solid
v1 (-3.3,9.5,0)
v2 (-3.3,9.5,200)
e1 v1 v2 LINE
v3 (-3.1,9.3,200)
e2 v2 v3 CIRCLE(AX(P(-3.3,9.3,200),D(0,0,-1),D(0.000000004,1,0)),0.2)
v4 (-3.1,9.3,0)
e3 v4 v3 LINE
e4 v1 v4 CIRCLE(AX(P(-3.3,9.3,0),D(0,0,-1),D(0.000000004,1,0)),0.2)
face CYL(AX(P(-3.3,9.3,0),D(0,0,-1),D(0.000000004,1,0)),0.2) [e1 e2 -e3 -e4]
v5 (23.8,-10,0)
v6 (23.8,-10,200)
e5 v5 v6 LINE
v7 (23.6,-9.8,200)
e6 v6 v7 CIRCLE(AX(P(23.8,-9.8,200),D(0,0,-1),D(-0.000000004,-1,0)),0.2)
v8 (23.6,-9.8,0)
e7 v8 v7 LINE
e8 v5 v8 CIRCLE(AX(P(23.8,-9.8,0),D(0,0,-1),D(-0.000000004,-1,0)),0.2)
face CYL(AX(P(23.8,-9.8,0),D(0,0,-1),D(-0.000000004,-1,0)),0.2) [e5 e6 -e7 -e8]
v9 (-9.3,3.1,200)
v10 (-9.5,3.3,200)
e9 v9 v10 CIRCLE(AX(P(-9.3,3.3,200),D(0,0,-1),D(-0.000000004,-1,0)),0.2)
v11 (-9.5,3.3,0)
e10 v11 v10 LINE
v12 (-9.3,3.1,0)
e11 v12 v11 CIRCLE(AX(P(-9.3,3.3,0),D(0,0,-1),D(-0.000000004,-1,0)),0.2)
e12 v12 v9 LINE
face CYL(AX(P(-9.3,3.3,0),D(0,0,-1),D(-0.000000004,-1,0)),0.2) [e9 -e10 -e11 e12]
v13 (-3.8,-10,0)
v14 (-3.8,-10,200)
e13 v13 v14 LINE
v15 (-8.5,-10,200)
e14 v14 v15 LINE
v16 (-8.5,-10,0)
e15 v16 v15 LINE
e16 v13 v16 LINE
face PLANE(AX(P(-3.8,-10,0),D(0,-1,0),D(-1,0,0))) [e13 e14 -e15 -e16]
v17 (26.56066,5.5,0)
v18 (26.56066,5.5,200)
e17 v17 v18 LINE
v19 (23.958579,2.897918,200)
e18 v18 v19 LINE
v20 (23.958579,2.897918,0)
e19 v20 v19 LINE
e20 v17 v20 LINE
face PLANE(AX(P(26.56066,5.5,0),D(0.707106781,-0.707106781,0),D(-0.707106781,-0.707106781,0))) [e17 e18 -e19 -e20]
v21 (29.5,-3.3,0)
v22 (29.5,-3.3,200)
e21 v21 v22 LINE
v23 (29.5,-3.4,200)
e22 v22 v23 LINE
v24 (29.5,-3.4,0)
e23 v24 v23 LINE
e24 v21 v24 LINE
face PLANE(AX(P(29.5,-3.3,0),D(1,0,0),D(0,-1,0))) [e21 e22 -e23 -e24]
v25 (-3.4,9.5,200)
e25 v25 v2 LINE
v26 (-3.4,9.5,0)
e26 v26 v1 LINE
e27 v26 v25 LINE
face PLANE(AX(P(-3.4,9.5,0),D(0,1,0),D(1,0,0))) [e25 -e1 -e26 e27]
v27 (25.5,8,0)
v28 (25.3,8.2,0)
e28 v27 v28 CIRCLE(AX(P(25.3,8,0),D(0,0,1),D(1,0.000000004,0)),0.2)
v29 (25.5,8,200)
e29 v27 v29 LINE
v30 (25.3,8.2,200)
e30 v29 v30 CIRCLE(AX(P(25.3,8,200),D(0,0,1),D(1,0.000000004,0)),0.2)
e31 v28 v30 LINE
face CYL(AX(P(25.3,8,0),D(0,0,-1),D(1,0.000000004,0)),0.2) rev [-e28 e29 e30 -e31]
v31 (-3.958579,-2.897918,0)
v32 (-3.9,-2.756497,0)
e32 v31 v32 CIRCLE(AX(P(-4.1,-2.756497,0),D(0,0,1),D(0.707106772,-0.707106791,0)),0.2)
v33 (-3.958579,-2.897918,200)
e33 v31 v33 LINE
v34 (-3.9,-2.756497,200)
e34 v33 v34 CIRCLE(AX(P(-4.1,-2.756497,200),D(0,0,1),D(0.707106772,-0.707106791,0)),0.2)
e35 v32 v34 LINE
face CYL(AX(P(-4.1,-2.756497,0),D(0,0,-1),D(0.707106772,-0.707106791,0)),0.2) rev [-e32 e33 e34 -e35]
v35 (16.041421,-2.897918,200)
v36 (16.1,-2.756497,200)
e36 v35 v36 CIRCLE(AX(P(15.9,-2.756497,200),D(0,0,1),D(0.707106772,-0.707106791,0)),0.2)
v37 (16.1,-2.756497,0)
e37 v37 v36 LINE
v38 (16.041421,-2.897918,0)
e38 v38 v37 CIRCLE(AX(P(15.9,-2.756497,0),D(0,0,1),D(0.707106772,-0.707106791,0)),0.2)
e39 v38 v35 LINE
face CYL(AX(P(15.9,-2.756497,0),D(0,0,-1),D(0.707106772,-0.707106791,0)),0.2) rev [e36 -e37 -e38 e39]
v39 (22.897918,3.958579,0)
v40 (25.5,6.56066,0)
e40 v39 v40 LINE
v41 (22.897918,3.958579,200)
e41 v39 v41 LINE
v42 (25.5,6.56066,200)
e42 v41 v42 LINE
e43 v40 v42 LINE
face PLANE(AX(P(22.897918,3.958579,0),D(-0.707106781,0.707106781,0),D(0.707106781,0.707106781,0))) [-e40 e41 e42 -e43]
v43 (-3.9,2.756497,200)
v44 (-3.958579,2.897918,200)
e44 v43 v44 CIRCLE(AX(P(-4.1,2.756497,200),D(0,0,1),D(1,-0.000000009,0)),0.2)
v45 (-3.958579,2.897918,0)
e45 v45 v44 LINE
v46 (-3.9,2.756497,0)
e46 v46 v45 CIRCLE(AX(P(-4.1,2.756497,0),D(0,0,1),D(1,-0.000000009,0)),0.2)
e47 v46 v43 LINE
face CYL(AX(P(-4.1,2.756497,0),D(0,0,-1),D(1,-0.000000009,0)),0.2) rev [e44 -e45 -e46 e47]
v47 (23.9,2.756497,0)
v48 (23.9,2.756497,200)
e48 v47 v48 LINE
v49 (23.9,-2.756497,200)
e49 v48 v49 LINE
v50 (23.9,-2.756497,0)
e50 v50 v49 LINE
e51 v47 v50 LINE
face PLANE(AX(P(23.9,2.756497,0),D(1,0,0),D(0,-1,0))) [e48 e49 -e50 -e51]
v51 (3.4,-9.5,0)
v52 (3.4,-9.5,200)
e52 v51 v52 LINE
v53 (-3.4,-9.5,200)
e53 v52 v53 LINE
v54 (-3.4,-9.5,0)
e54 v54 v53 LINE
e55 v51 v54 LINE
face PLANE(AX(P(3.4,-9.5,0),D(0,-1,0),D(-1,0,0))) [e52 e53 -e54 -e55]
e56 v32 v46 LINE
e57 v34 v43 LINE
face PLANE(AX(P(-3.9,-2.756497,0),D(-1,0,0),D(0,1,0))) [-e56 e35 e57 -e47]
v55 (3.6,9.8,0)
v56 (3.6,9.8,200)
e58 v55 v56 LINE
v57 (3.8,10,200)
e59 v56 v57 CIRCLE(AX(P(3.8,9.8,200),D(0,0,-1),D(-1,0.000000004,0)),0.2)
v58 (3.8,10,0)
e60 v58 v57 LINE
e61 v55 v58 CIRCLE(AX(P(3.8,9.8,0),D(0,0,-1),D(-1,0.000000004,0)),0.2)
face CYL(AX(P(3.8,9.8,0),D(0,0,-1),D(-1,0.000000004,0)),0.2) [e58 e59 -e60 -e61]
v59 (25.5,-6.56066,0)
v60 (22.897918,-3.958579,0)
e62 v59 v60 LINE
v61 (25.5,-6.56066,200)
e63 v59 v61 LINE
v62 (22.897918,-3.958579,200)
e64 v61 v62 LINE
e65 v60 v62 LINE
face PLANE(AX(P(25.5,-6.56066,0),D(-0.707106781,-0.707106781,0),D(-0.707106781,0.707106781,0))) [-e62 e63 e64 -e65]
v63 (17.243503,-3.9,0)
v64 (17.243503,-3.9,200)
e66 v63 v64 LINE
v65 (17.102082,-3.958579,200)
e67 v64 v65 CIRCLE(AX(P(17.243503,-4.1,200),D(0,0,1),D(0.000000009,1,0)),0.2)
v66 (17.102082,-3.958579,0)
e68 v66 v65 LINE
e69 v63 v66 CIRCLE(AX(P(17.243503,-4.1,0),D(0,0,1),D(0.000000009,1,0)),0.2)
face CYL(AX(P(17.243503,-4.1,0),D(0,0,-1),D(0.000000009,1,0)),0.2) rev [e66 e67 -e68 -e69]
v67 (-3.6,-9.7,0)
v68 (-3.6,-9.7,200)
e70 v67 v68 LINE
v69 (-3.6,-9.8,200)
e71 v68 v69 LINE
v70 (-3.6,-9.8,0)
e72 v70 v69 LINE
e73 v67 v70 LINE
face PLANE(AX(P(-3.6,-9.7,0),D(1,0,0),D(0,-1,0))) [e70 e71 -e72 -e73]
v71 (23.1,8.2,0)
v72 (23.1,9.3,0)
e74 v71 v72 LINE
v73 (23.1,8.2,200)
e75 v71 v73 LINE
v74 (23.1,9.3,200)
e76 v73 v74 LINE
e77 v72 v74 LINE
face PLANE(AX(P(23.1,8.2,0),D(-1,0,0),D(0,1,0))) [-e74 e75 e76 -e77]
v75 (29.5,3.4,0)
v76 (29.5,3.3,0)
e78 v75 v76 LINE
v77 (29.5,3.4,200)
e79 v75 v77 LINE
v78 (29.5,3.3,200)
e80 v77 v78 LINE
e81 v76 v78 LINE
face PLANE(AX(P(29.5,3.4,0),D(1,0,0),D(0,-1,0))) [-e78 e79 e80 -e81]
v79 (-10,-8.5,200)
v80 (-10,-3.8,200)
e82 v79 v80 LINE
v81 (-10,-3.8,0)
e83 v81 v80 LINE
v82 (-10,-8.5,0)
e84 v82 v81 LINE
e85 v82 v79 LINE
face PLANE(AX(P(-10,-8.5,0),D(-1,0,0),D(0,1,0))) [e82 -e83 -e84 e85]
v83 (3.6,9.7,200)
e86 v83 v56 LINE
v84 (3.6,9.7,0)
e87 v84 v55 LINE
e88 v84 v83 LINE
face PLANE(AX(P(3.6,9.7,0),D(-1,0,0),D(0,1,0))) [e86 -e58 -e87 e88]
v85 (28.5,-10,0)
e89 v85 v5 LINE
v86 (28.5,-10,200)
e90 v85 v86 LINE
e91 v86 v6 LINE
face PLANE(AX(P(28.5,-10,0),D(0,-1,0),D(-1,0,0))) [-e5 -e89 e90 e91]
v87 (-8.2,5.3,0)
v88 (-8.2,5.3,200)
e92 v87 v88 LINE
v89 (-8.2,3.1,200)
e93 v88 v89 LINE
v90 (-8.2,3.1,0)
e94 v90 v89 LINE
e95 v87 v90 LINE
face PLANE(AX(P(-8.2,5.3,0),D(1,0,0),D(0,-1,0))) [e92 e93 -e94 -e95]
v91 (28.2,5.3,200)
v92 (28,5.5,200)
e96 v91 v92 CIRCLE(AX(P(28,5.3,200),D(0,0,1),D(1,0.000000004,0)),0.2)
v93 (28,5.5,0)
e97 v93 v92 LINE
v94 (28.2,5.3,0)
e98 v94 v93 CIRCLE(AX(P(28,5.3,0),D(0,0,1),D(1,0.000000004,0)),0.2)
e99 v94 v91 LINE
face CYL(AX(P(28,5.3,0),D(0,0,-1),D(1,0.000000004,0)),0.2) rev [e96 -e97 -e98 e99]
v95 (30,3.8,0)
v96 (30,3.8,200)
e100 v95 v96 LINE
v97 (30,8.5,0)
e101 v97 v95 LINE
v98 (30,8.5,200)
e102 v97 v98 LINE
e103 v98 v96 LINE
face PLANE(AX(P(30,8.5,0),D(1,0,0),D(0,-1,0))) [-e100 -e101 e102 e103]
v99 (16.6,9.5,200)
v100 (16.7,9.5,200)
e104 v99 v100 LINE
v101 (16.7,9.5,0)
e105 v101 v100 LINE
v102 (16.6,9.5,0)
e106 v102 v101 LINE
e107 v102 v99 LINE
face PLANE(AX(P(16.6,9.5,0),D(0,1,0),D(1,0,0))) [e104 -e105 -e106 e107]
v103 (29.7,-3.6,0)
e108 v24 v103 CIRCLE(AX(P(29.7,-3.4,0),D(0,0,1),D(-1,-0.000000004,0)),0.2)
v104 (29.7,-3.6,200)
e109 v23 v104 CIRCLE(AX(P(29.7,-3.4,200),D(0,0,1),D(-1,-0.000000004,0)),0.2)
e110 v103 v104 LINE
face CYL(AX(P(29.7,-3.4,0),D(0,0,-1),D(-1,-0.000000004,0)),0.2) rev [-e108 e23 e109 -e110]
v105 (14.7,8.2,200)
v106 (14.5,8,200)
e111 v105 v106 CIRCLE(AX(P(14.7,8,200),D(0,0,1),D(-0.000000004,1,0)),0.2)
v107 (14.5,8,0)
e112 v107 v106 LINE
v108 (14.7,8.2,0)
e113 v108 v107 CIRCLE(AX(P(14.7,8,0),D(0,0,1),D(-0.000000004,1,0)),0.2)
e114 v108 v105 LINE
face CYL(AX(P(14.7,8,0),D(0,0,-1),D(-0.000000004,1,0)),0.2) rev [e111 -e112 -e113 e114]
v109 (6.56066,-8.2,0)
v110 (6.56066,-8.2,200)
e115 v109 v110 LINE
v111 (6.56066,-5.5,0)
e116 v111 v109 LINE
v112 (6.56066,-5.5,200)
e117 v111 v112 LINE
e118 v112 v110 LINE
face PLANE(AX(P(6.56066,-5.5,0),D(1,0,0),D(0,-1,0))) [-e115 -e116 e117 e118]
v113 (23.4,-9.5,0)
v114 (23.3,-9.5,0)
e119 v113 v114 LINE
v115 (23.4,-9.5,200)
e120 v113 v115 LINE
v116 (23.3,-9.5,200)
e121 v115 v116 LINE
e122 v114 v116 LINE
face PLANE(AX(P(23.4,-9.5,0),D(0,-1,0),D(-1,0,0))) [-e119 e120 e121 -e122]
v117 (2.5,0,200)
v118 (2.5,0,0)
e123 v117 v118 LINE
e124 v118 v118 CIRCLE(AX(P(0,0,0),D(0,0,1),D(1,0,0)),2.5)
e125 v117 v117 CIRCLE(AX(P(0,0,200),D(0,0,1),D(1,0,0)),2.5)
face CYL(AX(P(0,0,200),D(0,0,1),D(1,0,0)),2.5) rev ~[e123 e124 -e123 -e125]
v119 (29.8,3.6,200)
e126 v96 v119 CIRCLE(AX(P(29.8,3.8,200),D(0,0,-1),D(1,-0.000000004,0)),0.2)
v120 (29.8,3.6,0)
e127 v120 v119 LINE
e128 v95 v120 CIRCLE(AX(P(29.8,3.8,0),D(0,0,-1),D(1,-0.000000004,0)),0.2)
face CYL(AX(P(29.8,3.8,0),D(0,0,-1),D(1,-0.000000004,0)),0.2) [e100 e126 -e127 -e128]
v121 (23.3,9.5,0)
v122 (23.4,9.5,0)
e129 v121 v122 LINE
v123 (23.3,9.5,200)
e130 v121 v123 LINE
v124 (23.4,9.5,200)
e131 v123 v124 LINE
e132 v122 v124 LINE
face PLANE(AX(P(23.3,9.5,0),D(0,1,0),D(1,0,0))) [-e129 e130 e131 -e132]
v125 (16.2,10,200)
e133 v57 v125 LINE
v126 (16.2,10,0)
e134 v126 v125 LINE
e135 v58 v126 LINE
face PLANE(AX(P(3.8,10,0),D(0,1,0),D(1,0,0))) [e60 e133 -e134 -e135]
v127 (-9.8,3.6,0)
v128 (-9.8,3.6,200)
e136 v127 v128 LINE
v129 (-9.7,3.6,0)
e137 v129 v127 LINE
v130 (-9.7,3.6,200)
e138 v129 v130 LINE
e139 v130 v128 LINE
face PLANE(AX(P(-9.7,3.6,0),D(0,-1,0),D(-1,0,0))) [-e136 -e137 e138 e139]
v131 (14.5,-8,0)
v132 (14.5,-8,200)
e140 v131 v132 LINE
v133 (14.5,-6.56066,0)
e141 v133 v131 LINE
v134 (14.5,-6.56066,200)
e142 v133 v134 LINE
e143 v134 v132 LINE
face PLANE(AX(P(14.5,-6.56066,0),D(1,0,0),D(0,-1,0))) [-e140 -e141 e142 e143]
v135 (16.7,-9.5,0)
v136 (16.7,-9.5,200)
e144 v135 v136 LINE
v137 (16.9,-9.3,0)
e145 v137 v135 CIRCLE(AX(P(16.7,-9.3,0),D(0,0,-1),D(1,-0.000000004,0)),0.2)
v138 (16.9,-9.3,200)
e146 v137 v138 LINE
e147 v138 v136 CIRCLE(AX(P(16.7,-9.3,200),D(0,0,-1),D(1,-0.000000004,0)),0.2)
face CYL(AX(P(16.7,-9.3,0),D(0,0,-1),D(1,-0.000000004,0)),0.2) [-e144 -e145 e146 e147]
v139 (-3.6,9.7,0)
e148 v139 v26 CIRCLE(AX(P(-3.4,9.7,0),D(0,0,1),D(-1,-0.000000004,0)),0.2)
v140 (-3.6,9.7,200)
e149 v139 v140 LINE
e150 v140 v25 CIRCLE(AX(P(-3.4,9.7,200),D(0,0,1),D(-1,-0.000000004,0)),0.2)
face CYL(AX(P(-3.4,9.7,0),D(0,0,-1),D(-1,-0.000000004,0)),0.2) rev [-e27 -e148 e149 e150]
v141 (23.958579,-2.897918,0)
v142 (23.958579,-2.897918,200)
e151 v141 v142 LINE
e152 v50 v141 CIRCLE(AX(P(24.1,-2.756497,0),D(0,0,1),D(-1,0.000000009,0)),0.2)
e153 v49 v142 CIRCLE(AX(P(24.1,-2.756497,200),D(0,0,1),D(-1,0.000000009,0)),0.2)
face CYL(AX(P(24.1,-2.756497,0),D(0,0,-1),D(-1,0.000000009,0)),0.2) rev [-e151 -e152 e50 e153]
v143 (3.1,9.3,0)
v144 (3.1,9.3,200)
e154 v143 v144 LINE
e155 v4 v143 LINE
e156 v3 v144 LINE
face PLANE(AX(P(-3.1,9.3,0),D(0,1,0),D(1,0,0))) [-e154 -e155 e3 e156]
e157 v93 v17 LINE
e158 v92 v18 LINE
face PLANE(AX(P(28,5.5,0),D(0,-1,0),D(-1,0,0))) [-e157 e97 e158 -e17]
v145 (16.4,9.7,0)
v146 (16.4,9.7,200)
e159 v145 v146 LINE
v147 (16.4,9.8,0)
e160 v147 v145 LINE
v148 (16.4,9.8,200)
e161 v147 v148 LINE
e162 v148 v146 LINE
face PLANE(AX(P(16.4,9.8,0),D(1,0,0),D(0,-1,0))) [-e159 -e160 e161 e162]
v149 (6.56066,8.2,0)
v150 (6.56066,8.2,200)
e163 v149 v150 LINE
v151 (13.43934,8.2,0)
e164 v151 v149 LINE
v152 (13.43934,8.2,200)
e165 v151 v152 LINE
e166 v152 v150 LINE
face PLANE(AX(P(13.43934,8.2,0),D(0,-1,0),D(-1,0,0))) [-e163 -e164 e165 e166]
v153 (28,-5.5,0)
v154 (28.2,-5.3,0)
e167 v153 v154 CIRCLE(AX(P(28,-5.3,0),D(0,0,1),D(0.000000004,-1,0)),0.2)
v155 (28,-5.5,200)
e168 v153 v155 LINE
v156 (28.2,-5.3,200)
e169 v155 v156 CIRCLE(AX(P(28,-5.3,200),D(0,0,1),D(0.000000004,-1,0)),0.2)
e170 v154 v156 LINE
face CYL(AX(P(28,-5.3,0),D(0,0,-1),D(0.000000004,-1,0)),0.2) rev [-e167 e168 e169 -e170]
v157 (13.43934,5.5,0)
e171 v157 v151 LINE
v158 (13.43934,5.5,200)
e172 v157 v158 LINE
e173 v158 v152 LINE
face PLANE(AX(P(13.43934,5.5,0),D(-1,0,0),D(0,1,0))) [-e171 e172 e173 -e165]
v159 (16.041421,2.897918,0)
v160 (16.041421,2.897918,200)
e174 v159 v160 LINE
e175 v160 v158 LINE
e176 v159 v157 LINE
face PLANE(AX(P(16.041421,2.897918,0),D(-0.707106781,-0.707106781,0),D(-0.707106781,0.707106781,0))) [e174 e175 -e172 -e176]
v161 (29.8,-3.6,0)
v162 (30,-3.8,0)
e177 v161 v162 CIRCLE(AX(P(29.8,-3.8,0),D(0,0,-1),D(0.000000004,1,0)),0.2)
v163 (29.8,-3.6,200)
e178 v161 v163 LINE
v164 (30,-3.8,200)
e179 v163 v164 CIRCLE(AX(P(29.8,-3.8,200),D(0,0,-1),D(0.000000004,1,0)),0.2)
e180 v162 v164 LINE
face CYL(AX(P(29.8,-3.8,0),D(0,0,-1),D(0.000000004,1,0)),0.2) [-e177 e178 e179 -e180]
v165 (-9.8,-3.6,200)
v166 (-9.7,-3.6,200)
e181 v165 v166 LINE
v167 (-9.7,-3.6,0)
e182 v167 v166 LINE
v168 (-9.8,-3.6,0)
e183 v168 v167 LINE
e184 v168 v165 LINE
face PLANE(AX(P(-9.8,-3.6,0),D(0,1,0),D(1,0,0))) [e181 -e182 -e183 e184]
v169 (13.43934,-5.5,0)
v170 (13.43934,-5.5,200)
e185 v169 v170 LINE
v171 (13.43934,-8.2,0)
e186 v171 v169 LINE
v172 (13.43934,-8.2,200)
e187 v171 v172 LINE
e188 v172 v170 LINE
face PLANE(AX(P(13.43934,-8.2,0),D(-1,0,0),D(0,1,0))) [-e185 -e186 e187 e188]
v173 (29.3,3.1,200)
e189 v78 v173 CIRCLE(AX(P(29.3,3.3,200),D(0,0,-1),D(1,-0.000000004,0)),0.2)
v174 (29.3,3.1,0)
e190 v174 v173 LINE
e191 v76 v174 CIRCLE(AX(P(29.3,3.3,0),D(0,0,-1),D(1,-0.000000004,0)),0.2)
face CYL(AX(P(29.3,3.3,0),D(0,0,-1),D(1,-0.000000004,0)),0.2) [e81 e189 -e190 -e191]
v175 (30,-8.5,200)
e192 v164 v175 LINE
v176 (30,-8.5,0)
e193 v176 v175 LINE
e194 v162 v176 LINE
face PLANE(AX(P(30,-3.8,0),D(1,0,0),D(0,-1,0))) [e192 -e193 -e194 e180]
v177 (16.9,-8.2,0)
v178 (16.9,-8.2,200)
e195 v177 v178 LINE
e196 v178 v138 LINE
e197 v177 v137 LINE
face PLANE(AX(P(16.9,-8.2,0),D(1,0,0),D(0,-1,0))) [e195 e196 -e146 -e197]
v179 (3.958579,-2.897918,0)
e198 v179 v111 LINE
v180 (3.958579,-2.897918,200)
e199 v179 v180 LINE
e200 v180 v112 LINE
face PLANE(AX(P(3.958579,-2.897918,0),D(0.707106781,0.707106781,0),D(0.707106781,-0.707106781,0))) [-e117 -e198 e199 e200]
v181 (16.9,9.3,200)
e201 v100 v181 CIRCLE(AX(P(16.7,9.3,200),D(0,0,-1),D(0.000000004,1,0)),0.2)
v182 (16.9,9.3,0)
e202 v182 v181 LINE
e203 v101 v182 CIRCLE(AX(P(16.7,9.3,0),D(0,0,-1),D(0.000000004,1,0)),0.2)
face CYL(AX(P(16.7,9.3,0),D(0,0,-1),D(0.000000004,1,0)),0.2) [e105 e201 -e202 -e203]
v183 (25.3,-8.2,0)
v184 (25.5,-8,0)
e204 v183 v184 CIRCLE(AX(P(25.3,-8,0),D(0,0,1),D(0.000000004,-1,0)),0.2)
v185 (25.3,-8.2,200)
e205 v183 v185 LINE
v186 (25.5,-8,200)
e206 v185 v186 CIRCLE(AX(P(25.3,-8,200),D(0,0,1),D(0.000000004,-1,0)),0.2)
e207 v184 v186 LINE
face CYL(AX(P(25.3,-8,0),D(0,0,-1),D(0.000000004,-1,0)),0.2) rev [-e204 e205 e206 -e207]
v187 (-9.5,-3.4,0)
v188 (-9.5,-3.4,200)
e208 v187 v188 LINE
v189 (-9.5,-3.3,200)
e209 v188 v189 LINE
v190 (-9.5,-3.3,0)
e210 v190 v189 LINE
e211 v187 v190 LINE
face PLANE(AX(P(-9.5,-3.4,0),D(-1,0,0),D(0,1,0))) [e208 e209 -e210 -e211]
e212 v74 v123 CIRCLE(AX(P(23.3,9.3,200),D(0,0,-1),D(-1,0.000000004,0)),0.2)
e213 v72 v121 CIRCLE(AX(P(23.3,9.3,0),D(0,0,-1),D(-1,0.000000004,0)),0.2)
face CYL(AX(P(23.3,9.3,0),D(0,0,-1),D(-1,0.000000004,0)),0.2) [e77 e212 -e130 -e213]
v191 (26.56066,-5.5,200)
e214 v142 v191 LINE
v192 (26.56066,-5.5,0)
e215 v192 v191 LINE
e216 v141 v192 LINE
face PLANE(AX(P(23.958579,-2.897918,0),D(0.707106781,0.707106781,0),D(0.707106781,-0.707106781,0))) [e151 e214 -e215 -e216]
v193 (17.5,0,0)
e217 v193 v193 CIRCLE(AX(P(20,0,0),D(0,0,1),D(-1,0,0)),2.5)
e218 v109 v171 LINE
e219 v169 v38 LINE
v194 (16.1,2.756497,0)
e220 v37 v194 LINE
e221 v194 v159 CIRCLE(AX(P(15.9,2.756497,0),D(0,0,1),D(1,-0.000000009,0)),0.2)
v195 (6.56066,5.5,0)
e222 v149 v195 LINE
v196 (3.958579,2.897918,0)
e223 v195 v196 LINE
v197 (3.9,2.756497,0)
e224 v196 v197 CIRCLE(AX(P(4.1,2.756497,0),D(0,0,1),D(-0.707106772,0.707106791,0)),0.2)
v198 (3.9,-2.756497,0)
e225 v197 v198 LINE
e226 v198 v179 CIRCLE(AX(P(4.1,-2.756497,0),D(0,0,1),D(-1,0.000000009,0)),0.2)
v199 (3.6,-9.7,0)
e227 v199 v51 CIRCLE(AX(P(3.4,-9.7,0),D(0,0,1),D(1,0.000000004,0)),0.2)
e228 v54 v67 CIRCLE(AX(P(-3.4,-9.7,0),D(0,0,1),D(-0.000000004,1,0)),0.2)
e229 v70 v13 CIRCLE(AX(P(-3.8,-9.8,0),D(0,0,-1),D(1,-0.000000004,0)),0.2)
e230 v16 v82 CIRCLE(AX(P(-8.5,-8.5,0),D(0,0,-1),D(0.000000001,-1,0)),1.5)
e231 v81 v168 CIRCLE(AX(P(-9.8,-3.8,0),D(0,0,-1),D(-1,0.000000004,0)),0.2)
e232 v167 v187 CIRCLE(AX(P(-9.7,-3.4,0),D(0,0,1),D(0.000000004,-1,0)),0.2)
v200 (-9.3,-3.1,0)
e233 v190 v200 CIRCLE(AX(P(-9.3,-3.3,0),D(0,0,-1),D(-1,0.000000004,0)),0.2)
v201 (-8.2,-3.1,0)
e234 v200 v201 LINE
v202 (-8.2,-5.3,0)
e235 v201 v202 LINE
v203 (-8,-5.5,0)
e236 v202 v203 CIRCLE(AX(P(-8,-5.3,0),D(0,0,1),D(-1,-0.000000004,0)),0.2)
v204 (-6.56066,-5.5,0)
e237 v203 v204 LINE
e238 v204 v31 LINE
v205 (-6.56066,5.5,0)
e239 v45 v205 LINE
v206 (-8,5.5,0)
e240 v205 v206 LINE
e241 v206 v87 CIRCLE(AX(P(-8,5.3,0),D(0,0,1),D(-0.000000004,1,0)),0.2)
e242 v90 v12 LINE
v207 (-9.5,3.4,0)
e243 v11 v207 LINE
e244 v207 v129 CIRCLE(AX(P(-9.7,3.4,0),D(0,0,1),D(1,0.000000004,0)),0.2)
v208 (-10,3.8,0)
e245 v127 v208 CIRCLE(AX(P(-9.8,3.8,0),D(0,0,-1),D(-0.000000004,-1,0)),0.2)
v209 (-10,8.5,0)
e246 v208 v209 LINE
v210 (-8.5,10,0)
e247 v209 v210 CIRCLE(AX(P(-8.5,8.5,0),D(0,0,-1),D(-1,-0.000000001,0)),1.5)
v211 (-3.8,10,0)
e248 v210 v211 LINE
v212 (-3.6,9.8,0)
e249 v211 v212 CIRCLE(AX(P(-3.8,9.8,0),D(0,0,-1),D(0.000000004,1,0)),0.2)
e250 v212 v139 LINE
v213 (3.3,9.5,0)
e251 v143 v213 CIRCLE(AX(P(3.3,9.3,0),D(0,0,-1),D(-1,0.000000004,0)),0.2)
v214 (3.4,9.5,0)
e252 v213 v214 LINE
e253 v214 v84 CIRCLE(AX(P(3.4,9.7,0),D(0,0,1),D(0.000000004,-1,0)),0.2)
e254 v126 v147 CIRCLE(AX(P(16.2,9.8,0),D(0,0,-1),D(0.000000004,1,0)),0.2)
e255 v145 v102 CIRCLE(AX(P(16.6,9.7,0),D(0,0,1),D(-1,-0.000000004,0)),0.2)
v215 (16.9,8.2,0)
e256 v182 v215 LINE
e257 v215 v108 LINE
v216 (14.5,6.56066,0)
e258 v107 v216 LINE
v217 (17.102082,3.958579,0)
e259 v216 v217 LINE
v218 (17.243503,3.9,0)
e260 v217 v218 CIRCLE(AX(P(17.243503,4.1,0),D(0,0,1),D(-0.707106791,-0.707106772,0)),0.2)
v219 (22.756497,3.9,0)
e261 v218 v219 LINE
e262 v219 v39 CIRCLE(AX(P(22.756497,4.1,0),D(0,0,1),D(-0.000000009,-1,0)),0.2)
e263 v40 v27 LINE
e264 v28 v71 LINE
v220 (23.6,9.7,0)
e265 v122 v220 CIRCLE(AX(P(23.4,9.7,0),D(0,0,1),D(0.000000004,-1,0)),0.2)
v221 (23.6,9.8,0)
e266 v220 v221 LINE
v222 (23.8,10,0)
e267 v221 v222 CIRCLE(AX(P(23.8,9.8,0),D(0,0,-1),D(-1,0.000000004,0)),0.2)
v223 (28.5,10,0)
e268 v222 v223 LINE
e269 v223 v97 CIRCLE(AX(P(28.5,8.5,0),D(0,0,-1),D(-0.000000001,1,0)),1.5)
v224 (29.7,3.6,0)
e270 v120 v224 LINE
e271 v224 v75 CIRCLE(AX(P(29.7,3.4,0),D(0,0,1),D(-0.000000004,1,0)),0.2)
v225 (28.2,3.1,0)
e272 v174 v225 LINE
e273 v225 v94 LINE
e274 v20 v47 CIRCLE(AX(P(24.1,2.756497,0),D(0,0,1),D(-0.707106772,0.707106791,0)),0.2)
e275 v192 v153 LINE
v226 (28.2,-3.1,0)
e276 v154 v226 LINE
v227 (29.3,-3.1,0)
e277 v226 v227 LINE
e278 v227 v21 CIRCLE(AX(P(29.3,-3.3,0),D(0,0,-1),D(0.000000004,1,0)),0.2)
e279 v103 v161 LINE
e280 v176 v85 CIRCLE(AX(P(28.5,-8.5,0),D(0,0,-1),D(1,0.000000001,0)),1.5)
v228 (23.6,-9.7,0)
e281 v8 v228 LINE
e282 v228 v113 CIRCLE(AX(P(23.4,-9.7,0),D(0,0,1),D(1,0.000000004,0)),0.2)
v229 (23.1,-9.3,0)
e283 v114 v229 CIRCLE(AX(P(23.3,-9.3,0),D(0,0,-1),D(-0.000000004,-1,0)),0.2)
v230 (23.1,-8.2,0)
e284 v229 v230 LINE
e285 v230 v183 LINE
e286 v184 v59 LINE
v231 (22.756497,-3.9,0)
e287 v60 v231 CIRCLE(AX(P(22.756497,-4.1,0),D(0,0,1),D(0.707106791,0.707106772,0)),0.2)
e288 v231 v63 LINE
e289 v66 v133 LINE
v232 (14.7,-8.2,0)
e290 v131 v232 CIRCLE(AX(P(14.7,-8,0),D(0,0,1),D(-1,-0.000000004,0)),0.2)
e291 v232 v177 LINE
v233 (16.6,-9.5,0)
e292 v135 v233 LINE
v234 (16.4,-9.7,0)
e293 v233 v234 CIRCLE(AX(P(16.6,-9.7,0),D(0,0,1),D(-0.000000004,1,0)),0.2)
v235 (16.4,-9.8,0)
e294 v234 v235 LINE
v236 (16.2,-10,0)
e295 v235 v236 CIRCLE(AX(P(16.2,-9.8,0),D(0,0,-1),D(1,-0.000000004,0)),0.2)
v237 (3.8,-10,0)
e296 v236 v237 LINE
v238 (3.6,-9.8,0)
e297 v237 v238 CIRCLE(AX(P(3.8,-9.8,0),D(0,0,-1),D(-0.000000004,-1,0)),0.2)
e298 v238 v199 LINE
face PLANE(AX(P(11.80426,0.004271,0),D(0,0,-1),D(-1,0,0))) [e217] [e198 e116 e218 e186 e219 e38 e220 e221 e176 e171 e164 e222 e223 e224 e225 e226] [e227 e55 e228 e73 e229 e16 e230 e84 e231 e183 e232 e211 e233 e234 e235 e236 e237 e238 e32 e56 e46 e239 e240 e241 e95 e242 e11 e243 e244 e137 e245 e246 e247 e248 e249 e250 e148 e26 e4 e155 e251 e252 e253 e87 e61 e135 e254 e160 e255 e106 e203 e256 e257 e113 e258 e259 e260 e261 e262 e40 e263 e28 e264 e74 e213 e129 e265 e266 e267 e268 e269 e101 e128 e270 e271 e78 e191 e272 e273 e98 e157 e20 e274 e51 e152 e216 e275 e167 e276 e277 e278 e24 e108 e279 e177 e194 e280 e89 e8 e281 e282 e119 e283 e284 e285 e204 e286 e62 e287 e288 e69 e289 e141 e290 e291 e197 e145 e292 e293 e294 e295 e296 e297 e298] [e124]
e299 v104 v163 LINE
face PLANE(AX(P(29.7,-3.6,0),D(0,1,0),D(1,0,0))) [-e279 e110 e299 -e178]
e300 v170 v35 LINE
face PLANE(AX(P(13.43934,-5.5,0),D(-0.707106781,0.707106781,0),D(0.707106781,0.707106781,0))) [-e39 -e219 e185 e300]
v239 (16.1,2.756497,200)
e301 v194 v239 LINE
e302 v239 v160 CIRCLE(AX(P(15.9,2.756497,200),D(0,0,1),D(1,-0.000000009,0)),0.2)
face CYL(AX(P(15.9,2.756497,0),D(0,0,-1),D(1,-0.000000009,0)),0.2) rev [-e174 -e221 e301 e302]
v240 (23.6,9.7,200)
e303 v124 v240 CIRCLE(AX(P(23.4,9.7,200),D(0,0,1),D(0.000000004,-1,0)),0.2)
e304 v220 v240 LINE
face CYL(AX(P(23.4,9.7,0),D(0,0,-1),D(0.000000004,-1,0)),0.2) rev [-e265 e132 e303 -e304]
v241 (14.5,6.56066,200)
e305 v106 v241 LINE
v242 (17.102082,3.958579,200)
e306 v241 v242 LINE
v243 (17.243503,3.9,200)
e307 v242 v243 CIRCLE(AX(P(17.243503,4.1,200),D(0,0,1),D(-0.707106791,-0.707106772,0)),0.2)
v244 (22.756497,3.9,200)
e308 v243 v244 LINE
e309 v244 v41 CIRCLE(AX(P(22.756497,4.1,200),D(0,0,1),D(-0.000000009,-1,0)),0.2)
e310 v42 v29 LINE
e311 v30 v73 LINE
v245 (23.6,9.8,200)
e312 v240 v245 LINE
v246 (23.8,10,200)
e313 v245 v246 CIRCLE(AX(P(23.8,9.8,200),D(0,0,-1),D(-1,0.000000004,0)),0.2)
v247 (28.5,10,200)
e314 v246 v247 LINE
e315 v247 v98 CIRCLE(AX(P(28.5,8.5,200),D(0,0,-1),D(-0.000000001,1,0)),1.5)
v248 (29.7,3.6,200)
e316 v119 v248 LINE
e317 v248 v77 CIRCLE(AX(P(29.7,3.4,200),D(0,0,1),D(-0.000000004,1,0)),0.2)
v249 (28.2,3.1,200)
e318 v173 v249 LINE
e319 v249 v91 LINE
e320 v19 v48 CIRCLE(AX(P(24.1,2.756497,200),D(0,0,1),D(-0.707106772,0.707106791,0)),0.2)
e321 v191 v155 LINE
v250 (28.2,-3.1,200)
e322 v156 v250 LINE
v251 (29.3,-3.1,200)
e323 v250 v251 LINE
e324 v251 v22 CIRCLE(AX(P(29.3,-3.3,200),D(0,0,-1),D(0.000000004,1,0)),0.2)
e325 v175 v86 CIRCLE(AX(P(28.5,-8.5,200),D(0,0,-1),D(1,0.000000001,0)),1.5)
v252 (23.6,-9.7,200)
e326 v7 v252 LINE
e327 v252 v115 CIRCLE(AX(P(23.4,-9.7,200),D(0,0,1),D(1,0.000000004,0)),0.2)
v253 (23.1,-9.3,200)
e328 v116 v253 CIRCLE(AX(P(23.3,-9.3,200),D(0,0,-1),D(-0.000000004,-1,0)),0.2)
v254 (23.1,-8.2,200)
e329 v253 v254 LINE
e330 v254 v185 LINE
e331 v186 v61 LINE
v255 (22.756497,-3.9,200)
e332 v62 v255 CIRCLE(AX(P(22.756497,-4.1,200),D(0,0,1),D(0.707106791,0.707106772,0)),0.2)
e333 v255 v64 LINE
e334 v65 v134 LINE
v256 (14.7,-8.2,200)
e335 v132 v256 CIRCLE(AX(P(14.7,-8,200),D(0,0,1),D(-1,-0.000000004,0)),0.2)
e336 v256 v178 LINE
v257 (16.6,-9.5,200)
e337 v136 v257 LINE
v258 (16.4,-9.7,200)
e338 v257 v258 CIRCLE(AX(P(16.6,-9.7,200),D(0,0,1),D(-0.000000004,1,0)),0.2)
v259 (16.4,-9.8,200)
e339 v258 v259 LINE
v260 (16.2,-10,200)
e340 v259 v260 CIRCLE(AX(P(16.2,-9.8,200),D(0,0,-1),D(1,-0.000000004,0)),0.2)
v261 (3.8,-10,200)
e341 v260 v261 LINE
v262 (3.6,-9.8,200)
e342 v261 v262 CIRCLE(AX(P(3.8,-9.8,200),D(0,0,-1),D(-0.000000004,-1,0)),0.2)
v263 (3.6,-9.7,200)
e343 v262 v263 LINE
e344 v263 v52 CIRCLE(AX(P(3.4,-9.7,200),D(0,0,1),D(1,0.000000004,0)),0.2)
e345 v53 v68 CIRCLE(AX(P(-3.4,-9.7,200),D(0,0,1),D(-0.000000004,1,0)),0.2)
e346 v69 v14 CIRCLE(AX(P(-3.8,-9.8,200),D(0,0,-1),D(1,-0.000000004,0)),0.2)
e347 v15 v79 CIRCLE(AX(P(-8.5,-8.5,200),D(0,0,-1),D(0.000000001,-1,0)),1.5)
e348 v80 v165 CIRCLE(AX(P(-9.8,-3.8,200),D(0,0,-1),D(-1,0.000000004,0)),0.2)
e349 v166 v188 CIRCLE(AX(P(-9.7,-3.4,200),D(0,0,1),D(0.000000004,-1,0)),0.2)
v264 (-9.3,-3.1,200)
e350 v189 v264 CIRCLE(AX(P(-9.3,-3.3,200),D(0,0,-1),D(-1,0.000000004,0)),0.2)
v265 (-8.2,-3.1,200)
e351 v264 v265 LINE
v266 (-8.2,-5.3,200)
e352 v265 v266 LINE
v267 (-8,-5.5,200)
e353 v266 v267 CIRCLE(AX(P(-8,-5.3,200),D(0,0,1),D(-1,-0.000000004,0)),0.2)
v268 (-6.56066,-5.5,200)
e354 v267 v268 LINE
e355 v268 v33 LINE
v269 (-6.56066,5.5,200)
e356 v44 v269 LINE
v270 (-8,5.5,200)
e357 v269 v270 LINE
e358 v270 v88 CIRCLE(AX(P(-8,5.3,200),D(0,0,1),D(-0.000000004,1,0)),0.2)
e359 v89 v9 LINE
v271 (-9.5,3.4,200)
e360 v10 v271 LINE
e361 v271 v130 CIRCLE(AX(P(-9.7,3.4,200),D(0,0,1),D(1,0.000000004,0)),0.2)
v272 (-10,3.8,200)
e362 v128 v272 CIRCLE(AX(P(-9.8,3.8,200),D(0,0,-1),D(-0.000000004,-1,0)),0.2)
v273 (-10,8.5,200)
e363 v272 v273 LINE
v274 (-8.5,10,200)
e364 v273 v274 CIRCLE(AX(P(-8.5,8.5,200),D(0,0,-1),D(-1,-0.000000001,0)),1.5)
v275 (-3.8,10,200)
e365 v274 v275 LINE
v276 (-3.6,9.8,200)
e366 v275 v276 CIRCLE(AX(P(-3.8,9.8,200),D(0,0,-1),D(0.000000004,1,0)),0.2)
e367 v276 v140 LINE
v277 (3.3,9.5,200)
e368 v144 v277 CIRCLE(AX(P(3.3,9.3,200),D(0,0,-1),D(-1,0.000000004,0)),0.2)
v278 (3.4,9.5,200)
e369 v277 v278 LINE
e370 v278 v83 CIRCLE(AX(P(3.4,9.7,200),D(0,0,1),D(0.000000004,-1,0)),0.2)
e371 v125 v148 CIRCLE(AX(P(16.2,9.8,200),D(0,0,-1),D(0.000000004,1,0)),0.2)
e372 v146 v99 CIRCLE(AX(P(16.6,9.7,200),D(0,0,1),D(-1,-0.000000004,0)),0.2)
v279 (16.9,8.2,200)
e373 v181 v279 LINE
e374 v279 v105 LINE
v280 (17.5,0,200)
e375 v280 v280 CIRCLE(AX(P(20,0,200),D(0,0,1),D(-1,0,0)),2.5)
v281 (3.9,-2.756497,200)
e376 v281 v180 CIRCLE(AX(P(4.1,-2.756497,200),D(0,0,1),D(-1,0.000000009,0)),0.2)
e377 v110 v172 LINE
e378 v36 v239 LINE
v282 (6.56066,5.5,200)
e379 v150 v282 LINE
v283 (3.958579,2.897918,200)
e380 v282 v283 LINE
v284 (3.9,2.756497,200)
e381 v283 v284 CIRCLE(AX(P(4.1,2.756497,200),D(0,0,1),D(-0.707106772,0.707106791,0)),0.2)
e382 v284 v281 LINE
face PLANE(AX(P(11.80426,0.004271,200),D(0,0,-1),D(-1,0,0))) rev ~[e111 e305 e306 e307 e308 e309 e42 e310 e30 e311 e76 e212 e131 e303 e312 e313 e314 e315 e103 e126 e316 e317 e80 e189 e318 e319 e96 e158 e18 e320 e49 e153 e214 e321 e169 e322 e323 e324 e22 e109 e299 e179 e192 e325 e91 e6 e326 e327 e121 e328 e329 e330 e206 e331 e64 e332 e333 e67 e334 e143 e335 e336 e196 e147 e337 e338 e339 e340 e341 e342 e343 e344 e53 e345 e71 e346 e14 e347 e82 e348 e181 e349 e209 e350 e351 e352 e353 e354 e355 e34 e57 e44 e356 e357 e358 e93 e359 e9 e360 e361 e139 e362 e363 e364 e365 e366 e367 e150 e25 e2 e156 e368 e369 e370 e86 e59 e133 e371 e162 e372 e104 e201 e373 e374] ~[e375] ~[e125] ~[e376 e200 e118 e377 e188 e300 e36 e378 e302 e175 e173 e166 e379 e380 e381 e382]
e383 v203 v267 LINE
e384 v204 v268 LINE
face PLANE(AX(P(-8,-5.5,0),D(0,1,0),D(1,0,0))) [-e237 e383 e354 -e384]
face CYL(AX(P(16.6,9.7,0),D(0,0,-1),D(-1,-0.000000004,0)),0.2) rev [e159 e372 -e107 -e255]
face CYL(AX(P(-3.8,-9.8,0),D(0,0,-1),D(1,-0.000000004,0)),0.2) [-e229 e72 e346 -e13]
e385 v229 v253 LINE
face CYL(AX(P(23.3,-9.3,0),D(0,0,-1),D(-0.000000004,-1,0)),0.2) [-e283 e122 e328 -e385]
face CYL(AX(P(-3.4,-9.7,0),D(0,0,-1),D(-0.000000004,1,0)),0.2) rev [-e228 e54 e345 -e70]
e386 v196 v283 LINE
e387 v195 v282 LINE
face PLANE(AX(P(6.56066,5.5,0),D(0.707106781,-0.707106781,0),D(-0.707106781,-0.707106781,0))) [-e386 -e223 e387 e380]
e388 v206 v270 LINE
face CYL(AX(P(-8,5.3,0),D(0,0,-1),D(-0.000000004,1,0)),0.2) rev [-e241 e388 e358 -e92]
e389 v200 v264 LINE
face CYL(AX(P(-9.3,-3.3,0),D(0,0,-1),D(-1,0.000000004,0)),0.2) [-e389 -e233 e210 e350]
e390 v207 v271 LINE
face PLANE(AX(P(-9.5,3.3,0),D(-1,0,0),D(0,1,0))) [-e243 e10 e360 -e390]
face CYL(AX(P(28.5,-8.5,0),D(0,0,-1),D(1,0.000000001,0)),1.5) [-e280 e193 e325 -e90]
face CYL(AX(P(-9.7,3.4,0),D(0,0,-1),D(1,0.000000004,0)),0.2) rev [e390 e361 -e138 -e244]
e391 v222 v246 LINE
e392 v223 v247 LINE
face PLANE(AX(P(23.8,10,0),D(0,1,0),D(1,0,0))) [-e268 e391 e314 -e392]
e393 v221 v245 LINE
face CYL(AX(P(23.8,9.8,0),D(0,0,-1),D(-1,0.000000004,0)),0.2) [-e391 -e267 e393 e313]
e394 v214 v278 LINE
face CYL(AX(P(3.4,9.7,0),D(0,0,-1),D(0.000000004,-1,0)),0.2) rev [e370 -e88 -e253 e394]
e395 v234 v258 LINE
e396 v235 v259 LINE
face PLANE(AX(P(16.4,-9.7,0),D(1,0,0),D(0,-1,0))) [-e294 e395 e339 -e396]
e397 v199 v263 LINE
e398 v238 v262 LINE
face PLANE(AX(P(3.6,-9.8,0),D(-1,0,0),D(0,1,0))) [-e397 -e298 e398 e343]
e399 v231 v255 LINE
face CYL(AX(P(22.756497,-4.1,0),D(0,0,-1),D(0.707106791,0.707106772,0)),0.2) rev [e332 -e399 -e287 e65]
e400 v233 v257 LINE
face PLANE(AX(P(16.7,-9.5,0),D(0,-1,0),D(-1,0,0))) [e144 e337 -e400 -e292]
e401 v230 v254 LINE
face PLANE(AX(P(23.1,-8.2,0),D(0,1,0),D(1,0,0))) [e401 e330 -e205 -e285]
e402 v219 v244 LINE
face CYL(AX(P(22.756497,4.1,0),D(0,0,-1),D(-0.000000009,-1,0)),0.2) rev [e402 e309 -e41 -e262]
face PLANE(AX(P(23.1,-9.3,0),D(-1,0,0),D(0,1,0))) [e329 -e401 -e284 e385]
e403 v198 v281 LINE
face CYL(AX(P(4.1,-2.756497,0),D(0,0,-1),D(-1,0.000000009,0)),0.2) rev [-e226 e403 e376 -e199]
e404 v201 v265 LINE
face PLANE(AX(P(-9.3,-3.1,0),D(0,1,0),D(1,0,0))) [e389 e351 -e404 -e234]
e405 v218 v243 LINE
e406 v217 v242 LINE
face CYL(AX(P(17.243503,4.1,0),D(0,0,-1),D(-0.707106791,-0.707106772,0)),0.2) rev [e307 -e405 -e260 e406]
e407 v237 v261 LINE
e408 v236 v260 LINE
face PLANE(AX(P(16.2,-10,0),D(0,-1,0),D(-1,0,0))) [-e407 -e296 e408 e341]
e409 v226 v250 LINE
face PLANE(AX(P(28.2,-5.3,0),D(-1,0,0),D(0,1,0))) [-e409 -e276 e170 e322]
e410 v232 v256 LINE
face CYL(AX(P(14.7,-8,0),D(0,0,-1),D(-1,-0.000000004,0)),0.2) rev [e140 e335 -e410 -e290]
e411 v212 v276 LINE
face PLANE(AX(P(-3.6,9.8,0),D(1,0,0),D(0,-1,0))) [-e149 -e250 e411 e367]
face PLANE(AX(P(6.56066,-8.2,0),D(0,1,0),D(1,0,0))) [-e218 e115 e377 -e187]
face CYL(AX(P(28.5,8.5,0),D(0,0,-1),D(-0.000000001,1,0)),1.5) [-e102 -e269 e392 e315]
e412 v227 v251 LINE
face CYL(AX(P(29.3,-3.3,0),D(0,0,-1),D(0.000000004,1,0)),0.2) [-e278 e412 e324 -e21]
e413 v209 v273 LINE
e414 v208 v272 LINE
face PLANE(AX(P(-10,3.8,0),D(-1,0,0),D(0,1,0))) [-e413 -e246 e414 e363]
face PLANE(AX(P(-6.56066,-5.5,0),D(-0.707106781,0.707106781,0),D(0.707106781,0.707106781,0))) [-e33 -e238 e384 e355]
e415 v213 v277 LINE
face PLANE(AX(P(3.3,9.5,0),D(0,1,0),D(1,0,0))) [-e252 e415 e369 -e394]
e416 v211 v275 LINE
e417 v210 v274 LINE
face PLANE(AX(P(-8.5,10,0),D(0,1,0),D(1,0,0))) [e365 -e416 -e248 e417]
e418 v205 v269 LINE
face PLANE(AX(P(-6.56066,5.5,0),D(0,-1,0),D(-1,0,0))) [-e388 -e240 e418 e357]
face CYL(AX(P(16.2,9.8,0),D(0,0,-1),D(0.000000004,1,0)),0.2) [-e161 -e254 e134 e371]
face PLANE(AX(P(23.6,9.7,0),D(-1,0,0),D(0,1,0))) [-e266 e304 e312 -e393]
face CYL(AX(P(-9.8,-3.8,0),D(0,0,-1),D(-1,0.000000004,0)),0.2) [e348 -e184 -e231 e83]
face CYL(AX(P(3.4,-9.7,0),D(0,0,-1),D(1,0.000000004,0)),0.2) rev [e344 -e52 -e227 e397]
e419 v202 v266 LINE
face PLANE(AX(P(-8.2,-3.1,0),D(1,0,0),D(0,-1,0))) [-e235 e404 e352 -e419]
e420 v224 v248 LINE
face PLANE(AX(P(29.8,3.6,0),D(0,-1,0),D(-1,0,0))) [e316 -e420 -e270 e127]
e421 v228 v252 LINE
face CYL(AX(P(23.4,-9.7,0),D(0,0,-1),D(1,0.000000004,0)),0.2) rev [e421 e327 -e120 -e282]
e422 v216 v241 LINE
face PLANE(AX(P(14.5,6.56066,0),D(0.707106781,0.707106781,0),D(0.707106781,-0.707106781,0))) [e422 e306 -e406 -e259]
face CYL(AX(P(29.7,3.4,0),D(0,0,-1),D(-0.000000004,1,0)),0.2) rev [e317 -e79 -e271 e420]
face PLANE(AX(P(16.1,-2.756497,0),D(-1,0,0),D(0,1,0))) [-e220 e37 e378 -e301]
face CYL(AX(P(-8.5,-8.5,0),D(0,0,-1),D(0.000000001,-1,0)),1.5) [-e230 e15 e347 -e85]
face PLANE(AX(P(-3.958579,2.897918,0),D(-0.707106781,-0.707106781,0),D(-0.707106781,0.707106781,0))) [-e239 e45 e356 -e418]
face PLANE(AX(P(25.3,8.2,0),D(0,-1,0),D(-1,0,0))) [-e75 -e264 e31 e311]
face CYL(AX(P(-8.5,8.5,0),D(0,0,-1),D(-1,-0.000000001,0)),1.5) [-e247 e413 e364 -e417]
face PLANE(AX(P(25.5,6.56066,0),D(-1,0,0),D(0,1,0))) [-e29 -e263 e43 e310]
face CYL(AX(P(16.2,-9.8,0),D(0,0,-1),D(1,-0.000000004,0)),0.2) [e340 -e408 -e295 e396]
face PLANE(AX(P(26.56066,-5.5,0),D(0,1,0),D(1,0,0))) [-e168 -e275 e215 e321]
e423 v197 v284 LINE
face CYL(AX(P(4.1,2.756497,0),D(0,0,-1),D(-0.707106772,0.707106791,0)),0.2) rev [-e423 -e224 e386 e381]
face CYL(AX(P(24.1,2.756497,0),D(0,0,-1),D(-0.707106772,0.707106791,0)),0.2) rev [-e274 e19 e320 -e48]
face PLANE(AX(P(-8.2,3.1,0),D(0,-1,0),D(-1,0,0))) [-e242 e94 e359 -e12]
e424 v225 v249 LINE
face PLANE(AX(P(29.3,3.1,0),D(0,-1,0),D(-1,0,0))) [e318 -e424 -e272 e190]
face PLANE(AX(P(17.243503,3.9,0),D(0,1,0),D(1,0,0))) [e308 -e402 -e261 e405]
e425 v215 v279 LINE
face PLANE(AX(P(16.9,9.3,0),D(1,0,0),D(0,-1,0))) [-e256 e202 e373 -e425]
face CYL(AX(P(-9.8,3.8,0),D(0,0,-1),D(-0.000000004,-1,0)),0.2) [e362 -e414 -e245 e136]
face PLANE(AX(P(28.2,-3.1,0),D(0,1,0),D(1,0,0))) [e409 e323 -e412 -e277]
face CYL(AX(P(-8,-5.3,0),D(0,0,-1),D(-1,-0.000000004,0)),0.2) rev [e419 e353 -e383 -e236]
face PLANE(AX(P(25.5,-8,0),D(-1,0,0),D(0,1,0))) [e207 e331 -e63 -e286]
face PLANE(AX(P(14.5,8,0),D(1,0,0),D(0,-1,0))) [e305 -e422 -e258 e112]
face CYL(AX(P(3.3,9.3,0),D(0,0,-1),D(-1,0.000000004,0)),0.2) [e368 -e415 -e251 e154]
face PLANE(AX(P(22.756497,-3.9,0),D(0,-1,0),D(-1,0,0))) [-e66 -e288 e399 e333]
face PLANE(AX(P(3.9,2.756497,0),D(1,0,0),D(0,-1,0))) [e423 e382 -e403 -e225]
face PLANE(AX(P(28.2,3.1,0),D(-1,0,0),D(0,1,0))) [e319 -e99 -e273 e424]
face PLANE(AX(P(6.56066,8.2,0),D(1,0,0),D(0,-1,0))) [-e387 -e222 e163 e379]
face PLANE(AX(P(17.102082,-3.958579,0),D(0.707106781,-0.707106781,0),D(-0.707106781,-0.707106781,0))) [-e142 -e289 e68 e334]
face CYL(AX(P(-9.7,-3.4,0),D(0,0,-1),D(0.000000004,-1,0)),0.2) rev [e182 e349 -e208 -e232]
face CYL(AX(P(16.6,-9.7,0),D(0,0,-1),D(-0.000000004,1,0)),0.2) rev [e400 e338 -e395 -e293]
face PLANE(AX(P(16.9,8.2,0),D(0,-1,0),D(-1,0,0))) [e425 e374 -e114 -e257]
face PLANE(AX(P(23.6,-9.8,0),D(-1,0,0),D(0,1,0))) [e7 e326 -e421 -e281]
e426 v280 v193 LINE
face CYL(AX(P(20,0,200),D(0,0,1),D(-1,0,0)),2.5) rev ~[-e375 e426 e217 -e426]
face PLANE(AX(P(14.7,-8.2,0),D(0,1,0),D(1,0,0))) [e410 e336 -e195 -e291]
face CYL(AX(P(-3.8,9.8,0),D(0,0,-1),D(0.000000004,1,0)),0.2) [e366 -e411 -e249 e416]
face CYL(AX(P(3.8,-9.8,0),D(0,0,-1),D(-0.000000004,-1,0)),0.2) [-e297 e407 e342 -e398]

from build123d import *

# Parameters (mm, degrees)
BOSS_EXTRUDE1_DEPTH = 200
SKETCH2_R           = 2.5
CUT_EXTRUDE1_DEPTH  = 203.484567313


with BuildPart() as part:
    # Sketch1 → Boss-Extrude1 (new body)
    with BuildSketch(Plane.XY):
        with BuildLine():
            Line((-8.5, 10), (-3.8, 10))
            ThreePointArc((-3.8, 10), (-3.658578644, 9.941421356), (-3.6, 9.8))
            Line((-3.6, 9.8), (-3.6, 9.7))
            ThreePointArc((-3.6, 9.7), (-3.541421356, 9.558578644), (-3.4, 9.5))
            Line((-3.4, 9.5), (-3.3, 9.5))
            ThreePointArc((-3.3, 9.5), (-3.158578644, 9.441421356), (-3.1, 9.3))
            Line((-3.1, 9.3), (3.1, 9.3))
            ThreePointArc((3.1, 9.3), (3.158578644, 9.441421356), (3.3, 9.5))
            Line((3.3, 9.5), (3.4, 9.5))
            ThreePointArc((3.4, 9.5), (3.541421356, 9.558578644), (3.6, 9.7))
            Line((3.6, 9.7), (3.6, 9.8))
            ThreePointArc((3.6, 9.8), (3.658578644, 9.941421356), (3.8, 10))
            Line((3.8, 10), (8.5, 10))
            Line((8.5, 10), (11.5, 10))
            Line((11.5, 10), (16.2, 10))
            ThreePointArc((16.2, 10), (16.341421356, 9.941421356), (16.4, 9.8))
            Line((16.4, 9.8), (16.4, 9.7))
            ThreePointArc((16.4, 9.7), (16.458578644, 9.558578644), (16.6, 9.5))
            Line((16.6, 9.5), (16.7, 9.5))
            ThreePointArc((16.7, 9.5), (16.841421356, 9.441421356), (16.9, 9.3))
            Line((16.9, 9.3), (16.9, 8.2))
            Line((16.9, 8.2), (14.7, 8.2))
            ThreePointArc((14.7, 8.2), (14.558578644, 8.141421356), (14.5, 8))
            Line((14.5, 8), (14.5, 6.560660172))
            Line((14.5, 6.560660172), (17.102081528, 3.958578644))
            ThreePointArc((17.102081528, 3.958578644), (17.166966198, 3.915224093), (17.243502884, 3.9))
            Line((17.243502884, 3.9), (22.756497116, 3.9))
            ThreePointArc((22.756497116, 3.9), (22.833033802, 3.915224093), (22.897918472, 3.958578644))
            Line((22.897918472, 3.958578644), (25.5, 6.560660172))
            Line((25.5, 6.560660172), (25.5, 8))
            ThreePointArc((25.5, 8), (25.441421356, 8.141421356), (25.3, 8.2))
            Line((25.3, 8.2), (23.1, 8.2))
            Line((23.1, 8.2), (23.1, 9.3))
            ThreePointArc((23.1, 9.3), (23.158578644, 9.441421356), (23.3, 9.5))
            Line((23.3, 9.5), (23.4, 9.5))
            ThreePointArc((23.4, 9.5), (23.541421356, 9.558578644), (23.6, 9.7))
            Line((23.6, 9.7), (23.6, 9.8))
            ThreePointArc((23.6, 9.8), (23.658578644, 9.941421356), (23.8, 10))
            Line((23.8, 10), (28.5, 10))
            ThreePointArc((28.5, 10), (29.560660172, 9.560660172), (30, 8.5))
            Line((30, 8.5), (30, 3.8))
            ThreePointArc((30, 3.8), (29.941421356, 3.658578644), (29.8, 3.6))
            Line((29.8, 3.6), (29.7, 3.6))
            ThreePointArc((29.7, 3.6), (29.558578644, 3.541421356), (29.5, 3.4))
            Line((29.5, 3.4), (29.5, 3.3))
            ThreePointArc((29.5, 3.3), (29.441421356, 3.158578644), (29.3, 3.1))
            Line((29.3, 3.1), (28.2, 3.1))
            Line((28.2, 3.1), (28.2, 5.3))
            ThreePointArc((28.2, 5.3), (28.141421356, 5.441421356), (28, 5.5))
            Line((28, 5.5), (26.560660172, 5.5))
            Line((26.560660172, 5.5), (23.958578644, 2.897918472))
            ThreePointArc((23.958578644, 2.897918472), (23.915224093, 2.833033802), (23.9, 2.756497116))
            Line((23.9, 2.756497116), (23.9, -2.756497116))
            ThreePointArc((23.9, -2.756497116), (23.915224093, -2.833033802), (23.958578644, -2.897918472))
            Line((23.958578644, -2.897918472), (26.560660172, -5.5))
            Line((26.560660172, -5.5), (28, -5.5))
            ThreePointArc((28, -5.5), (28.141421356, -5.441421356), (28.2, -5.3))
            Line((28.2, -5.3), (28.2, -3.1))
            Line((28.2, -3.1), (29.3, -3.1))
            ThreePointArc((29.3, -3.1), (29.441421356, -3.158578644), (29.5, -3.3))
            Line((29.5, -3.3), (29.5, -3.4))
            ThreePointArc((29.5, -3.4), (29.558578644, -3.541421356), (29.7, -3.6))
            Line((29.7, -3.6), (29.8, -3.6))
            ThreePointArc((29.8, -3.6), (29.941421356, -3.658578644), (30, -3.8))
            Line((30, -3.8), (30, -8.5))
            ThreePointArc((30, -8.5), (29.560660172, -9.560660172), (28.5, -10))
            Line((28.5, -10), (23.8, -10))
            ThreePointArc((23.8, -10), (23.658578644, -9.941421356), (23.6, -9.8))
            Line((23.6, -9.8), (23.6, -9.7))
            ThreePointArc((23.6, -9.7), (23.541421356, -9.558578644), (23.4, -9.5))
            Line((23.4, -9.5), (23.3, -9.5))
            ThreePointArc((23.3, -9.5), (23.158578644, -9.441421356), (23.1, -9.3))
            Line((23.1, -9.3), (23.1, -8.2))
            Line((23.1, -8.2), (25.3, -8.2))
            ThreePointArc((25.3, -8.2), (25.441421356, -8.141421356), (25.5, -8))
            Line((25.5, -8), (25.5, -6.560660172))
            Line((25.5, -6.560660172), (22.897918472, -3.958578644))
            ThreePointArc((22.897918472, -3.958578644), (22.833033802, -3.915224093), (22.756497116, -3.9))
            Line((22.756497116, -3.9), (17.243502884, -3.9))
            ThreePointArc((17.243502884, -3.9), (17.166966198, -3.915224093), (17.102081528, -3.958578644))
            Line((17.102081528, -3.958578644), (14.5, -6.560660172))
            Line((14.5, -6.560660172), (14.5, -8))
            ThreePointArc((14.5, -8), (14.558578644, -8.141421356), (14.7, -8.2))
            Line((14.7, -8.2), (16.9, -8.2))
            Line((16.9, -8.2), (16.9, -9.3))
            ThreePointArc((16.9, -9.3), (16.841421356, -9.441421356), (16.7, -9.5))
            Line((16.7, -9.5), (16.6, -9.5))
            ThreePointArc((16.6, -9.5), (16.458578644, -9.558578644), (16.4, -9.7))
            Line((16.4, -9.7), (16.4, -9.8))
            ThreePointArc((16.4, -9.8), (16.341421356, -9.941421356), (16.2, -10))
            Line((16.2, -10), (11.5, -10))
            Line((11.5, -10), (8.5, -10))
            Line((8.5, -10), (3.8, -10))
            ThreePointArc((3.8, -10), (3.658578644, -9.941421356), (3.6, -9.8))
            Line((3.6, -9.8), (3.6, -9.7))
            ThreePointArc((3.6, -9.7), (3.541421356, -9.558578644), (3.4, -9.5))
            Line((3.4, -9.5), (3.3, -9.5))
            Line((3.3, -9.5), (-3.3, -9.5))
            Line((-3.3, -9.5), (-3.4, -9.5))
            ThreePointArc((-3.4, -9.5), (-3.541421356, -9.558578644), (-3.6, -9.7))
            Line((-3.6, -9.7), (-3.6, -9.8))
            ThreePointArc((-3.6, -9.8), (-3.658578644, -9.941421356), (-3.8, -10))
            Line((-3.8, -10), (-8.5, -10))
            ThreePointArc((-8.5, -10), (-9.560660172, -9.560660172), (-10, -8.5))
            Line((-10, -8.5), (-10, -3.8))
            ThreePointArc((-10, -3.8), (-9.941421356, -3.658578644), (-9.8, -3.6))
            Line((-9.8, -3.6), (-9.7, -3.6))
            ThreePointArc((-9.7, -3.6), (-9.558578644, -3.541421356), (-9.5, -3.4))
            Line((-9.5, -3.4), (-9.5, -3.3))
            ThreePointArc((-9.5, -3.3), (-9.441421356, -3.158578644), (-9.3, -3.1))
            Line((-9.3, -3.1), (-8.2, -3.1))
            Line((-8.2, -3.1), (-8.2, -5.3))
            ThreePointArc((-8.2, -5.3), (-8.141421356, -5.441421356), (-8, -5.5))
            Line((-8, -5.5), (-6.560660172, -5.5))
            Line((-6.560660172, -5.5), (-3.958578644, -2.897918472))
            ThreePointArc((-3.958578644, -2.897918472), (-3.915224093, -2.833033802), (-3.9, -2.756497116))
            Line((-3.9, -2.756497116), (-3.9, 2.756497116))
            ThreePointArc((-3.9, 2.756497116), (-3.915224093, 2.833033802), (-3.958578644, 2.897918472))
            Line((-3.958578644, 2.897918472), (-6.560660172, 5.5))
            Line((-6.560660172, 5.5), (-8, 5.5))
            ThreePointArc((-8, 5.5), (-8.141421356, 5.441421356), (-8.2, 5.3))
            Line((-8.2, 5.3), (-8.2, 3.1))
            Line((-8.2, 3.1), (-9.3, 3.1))
            ThreePointArc((-9.3, 3.1), (-9.441421356, 3.158578644), (-9.5, 3.3))
            Line((-9.5, 3.3), (-9.5, 3.4))
            ThreePointArc((-9.5, 3.4), (-9.558578644, 3.541421356), (-9.7, 3.6))
            Line((-9.7, 3.6), (-9.8, 3.6))
            ThreePointArc((-9.8, 3.6), (-9.941421356, 3.658578644), (-10, 3.8))
            Line((-10, 3.8), (-10, 8.5))
            ThreePointArc((-10, 8.5), (-9.560660172, 9.560660172), (-8.5, 10))
        make_face()
        with BuildLine():
            Line((3.9, 2.756497116), (3.9, -2.756497116))
            ThreePointArc((3.9, -2.756497116), (3.915224093, -2.833033802), (3.958578644, -2.897918472))
            Line((3.958578644, -2.897918472), (6.560660172, -5.5))
            Line((6.560660172, -5.5), (6.560660172, -8.2))
            Line((6.560660172, -8.2), (13.439339828, -8.2))
            Line((13.439339828, -8.2), (13.439339828, -5.5))
            Line((13.439339828, -5.5), (16.041421356, -2.897918472))
            ThreePointArc((16.041421356, -2.897918472), (16.084775907, -2.833033802), (16.1, -2.756497116))
            Line((16.1, -2.756497116), (16.1, 2.756497116))
            ThreePointArc((16.1, 2.756497116), (16.084775907, 2.833033802), (16.041421356, 2.897918472))
            Line((16.041421356, 2.897918472), (13.439339828, 5.5))
            Line((13.439339828, 5.5), (13.439339828, 8.2))
            Line((13.439339828, 8.2), (6.560660172, 8.2))
            Line((6.560660172, 8.2), (6.560660172, 5.5))
            Line((6.560660172, 5.5), (3.958578644, 2.897918472))
            ThreePointArc((3.958578644, 2.897918472), (3.915224093, 2.833033802), (3.9, 2.756497116))
        make_face(mode=Mode.SUBTRACT)
    extrude(amount=BOSS_EXTRUDE1_DEPTH)

    # Sketch2 → Cut-Extrude1 (cut, through all)
    with BuildSketch(Plane.XY.offset(200)):
        Circle(SKETCH2_R)
        with Locations(Location((20, 0, 0), (0, 0, 180))):
            Circle(SKETCH2_R)
    extrude(amount=-CUT_EXTRUDE1_DEPTH, mode=Mode.SUBTRACT)


solid = part.part
